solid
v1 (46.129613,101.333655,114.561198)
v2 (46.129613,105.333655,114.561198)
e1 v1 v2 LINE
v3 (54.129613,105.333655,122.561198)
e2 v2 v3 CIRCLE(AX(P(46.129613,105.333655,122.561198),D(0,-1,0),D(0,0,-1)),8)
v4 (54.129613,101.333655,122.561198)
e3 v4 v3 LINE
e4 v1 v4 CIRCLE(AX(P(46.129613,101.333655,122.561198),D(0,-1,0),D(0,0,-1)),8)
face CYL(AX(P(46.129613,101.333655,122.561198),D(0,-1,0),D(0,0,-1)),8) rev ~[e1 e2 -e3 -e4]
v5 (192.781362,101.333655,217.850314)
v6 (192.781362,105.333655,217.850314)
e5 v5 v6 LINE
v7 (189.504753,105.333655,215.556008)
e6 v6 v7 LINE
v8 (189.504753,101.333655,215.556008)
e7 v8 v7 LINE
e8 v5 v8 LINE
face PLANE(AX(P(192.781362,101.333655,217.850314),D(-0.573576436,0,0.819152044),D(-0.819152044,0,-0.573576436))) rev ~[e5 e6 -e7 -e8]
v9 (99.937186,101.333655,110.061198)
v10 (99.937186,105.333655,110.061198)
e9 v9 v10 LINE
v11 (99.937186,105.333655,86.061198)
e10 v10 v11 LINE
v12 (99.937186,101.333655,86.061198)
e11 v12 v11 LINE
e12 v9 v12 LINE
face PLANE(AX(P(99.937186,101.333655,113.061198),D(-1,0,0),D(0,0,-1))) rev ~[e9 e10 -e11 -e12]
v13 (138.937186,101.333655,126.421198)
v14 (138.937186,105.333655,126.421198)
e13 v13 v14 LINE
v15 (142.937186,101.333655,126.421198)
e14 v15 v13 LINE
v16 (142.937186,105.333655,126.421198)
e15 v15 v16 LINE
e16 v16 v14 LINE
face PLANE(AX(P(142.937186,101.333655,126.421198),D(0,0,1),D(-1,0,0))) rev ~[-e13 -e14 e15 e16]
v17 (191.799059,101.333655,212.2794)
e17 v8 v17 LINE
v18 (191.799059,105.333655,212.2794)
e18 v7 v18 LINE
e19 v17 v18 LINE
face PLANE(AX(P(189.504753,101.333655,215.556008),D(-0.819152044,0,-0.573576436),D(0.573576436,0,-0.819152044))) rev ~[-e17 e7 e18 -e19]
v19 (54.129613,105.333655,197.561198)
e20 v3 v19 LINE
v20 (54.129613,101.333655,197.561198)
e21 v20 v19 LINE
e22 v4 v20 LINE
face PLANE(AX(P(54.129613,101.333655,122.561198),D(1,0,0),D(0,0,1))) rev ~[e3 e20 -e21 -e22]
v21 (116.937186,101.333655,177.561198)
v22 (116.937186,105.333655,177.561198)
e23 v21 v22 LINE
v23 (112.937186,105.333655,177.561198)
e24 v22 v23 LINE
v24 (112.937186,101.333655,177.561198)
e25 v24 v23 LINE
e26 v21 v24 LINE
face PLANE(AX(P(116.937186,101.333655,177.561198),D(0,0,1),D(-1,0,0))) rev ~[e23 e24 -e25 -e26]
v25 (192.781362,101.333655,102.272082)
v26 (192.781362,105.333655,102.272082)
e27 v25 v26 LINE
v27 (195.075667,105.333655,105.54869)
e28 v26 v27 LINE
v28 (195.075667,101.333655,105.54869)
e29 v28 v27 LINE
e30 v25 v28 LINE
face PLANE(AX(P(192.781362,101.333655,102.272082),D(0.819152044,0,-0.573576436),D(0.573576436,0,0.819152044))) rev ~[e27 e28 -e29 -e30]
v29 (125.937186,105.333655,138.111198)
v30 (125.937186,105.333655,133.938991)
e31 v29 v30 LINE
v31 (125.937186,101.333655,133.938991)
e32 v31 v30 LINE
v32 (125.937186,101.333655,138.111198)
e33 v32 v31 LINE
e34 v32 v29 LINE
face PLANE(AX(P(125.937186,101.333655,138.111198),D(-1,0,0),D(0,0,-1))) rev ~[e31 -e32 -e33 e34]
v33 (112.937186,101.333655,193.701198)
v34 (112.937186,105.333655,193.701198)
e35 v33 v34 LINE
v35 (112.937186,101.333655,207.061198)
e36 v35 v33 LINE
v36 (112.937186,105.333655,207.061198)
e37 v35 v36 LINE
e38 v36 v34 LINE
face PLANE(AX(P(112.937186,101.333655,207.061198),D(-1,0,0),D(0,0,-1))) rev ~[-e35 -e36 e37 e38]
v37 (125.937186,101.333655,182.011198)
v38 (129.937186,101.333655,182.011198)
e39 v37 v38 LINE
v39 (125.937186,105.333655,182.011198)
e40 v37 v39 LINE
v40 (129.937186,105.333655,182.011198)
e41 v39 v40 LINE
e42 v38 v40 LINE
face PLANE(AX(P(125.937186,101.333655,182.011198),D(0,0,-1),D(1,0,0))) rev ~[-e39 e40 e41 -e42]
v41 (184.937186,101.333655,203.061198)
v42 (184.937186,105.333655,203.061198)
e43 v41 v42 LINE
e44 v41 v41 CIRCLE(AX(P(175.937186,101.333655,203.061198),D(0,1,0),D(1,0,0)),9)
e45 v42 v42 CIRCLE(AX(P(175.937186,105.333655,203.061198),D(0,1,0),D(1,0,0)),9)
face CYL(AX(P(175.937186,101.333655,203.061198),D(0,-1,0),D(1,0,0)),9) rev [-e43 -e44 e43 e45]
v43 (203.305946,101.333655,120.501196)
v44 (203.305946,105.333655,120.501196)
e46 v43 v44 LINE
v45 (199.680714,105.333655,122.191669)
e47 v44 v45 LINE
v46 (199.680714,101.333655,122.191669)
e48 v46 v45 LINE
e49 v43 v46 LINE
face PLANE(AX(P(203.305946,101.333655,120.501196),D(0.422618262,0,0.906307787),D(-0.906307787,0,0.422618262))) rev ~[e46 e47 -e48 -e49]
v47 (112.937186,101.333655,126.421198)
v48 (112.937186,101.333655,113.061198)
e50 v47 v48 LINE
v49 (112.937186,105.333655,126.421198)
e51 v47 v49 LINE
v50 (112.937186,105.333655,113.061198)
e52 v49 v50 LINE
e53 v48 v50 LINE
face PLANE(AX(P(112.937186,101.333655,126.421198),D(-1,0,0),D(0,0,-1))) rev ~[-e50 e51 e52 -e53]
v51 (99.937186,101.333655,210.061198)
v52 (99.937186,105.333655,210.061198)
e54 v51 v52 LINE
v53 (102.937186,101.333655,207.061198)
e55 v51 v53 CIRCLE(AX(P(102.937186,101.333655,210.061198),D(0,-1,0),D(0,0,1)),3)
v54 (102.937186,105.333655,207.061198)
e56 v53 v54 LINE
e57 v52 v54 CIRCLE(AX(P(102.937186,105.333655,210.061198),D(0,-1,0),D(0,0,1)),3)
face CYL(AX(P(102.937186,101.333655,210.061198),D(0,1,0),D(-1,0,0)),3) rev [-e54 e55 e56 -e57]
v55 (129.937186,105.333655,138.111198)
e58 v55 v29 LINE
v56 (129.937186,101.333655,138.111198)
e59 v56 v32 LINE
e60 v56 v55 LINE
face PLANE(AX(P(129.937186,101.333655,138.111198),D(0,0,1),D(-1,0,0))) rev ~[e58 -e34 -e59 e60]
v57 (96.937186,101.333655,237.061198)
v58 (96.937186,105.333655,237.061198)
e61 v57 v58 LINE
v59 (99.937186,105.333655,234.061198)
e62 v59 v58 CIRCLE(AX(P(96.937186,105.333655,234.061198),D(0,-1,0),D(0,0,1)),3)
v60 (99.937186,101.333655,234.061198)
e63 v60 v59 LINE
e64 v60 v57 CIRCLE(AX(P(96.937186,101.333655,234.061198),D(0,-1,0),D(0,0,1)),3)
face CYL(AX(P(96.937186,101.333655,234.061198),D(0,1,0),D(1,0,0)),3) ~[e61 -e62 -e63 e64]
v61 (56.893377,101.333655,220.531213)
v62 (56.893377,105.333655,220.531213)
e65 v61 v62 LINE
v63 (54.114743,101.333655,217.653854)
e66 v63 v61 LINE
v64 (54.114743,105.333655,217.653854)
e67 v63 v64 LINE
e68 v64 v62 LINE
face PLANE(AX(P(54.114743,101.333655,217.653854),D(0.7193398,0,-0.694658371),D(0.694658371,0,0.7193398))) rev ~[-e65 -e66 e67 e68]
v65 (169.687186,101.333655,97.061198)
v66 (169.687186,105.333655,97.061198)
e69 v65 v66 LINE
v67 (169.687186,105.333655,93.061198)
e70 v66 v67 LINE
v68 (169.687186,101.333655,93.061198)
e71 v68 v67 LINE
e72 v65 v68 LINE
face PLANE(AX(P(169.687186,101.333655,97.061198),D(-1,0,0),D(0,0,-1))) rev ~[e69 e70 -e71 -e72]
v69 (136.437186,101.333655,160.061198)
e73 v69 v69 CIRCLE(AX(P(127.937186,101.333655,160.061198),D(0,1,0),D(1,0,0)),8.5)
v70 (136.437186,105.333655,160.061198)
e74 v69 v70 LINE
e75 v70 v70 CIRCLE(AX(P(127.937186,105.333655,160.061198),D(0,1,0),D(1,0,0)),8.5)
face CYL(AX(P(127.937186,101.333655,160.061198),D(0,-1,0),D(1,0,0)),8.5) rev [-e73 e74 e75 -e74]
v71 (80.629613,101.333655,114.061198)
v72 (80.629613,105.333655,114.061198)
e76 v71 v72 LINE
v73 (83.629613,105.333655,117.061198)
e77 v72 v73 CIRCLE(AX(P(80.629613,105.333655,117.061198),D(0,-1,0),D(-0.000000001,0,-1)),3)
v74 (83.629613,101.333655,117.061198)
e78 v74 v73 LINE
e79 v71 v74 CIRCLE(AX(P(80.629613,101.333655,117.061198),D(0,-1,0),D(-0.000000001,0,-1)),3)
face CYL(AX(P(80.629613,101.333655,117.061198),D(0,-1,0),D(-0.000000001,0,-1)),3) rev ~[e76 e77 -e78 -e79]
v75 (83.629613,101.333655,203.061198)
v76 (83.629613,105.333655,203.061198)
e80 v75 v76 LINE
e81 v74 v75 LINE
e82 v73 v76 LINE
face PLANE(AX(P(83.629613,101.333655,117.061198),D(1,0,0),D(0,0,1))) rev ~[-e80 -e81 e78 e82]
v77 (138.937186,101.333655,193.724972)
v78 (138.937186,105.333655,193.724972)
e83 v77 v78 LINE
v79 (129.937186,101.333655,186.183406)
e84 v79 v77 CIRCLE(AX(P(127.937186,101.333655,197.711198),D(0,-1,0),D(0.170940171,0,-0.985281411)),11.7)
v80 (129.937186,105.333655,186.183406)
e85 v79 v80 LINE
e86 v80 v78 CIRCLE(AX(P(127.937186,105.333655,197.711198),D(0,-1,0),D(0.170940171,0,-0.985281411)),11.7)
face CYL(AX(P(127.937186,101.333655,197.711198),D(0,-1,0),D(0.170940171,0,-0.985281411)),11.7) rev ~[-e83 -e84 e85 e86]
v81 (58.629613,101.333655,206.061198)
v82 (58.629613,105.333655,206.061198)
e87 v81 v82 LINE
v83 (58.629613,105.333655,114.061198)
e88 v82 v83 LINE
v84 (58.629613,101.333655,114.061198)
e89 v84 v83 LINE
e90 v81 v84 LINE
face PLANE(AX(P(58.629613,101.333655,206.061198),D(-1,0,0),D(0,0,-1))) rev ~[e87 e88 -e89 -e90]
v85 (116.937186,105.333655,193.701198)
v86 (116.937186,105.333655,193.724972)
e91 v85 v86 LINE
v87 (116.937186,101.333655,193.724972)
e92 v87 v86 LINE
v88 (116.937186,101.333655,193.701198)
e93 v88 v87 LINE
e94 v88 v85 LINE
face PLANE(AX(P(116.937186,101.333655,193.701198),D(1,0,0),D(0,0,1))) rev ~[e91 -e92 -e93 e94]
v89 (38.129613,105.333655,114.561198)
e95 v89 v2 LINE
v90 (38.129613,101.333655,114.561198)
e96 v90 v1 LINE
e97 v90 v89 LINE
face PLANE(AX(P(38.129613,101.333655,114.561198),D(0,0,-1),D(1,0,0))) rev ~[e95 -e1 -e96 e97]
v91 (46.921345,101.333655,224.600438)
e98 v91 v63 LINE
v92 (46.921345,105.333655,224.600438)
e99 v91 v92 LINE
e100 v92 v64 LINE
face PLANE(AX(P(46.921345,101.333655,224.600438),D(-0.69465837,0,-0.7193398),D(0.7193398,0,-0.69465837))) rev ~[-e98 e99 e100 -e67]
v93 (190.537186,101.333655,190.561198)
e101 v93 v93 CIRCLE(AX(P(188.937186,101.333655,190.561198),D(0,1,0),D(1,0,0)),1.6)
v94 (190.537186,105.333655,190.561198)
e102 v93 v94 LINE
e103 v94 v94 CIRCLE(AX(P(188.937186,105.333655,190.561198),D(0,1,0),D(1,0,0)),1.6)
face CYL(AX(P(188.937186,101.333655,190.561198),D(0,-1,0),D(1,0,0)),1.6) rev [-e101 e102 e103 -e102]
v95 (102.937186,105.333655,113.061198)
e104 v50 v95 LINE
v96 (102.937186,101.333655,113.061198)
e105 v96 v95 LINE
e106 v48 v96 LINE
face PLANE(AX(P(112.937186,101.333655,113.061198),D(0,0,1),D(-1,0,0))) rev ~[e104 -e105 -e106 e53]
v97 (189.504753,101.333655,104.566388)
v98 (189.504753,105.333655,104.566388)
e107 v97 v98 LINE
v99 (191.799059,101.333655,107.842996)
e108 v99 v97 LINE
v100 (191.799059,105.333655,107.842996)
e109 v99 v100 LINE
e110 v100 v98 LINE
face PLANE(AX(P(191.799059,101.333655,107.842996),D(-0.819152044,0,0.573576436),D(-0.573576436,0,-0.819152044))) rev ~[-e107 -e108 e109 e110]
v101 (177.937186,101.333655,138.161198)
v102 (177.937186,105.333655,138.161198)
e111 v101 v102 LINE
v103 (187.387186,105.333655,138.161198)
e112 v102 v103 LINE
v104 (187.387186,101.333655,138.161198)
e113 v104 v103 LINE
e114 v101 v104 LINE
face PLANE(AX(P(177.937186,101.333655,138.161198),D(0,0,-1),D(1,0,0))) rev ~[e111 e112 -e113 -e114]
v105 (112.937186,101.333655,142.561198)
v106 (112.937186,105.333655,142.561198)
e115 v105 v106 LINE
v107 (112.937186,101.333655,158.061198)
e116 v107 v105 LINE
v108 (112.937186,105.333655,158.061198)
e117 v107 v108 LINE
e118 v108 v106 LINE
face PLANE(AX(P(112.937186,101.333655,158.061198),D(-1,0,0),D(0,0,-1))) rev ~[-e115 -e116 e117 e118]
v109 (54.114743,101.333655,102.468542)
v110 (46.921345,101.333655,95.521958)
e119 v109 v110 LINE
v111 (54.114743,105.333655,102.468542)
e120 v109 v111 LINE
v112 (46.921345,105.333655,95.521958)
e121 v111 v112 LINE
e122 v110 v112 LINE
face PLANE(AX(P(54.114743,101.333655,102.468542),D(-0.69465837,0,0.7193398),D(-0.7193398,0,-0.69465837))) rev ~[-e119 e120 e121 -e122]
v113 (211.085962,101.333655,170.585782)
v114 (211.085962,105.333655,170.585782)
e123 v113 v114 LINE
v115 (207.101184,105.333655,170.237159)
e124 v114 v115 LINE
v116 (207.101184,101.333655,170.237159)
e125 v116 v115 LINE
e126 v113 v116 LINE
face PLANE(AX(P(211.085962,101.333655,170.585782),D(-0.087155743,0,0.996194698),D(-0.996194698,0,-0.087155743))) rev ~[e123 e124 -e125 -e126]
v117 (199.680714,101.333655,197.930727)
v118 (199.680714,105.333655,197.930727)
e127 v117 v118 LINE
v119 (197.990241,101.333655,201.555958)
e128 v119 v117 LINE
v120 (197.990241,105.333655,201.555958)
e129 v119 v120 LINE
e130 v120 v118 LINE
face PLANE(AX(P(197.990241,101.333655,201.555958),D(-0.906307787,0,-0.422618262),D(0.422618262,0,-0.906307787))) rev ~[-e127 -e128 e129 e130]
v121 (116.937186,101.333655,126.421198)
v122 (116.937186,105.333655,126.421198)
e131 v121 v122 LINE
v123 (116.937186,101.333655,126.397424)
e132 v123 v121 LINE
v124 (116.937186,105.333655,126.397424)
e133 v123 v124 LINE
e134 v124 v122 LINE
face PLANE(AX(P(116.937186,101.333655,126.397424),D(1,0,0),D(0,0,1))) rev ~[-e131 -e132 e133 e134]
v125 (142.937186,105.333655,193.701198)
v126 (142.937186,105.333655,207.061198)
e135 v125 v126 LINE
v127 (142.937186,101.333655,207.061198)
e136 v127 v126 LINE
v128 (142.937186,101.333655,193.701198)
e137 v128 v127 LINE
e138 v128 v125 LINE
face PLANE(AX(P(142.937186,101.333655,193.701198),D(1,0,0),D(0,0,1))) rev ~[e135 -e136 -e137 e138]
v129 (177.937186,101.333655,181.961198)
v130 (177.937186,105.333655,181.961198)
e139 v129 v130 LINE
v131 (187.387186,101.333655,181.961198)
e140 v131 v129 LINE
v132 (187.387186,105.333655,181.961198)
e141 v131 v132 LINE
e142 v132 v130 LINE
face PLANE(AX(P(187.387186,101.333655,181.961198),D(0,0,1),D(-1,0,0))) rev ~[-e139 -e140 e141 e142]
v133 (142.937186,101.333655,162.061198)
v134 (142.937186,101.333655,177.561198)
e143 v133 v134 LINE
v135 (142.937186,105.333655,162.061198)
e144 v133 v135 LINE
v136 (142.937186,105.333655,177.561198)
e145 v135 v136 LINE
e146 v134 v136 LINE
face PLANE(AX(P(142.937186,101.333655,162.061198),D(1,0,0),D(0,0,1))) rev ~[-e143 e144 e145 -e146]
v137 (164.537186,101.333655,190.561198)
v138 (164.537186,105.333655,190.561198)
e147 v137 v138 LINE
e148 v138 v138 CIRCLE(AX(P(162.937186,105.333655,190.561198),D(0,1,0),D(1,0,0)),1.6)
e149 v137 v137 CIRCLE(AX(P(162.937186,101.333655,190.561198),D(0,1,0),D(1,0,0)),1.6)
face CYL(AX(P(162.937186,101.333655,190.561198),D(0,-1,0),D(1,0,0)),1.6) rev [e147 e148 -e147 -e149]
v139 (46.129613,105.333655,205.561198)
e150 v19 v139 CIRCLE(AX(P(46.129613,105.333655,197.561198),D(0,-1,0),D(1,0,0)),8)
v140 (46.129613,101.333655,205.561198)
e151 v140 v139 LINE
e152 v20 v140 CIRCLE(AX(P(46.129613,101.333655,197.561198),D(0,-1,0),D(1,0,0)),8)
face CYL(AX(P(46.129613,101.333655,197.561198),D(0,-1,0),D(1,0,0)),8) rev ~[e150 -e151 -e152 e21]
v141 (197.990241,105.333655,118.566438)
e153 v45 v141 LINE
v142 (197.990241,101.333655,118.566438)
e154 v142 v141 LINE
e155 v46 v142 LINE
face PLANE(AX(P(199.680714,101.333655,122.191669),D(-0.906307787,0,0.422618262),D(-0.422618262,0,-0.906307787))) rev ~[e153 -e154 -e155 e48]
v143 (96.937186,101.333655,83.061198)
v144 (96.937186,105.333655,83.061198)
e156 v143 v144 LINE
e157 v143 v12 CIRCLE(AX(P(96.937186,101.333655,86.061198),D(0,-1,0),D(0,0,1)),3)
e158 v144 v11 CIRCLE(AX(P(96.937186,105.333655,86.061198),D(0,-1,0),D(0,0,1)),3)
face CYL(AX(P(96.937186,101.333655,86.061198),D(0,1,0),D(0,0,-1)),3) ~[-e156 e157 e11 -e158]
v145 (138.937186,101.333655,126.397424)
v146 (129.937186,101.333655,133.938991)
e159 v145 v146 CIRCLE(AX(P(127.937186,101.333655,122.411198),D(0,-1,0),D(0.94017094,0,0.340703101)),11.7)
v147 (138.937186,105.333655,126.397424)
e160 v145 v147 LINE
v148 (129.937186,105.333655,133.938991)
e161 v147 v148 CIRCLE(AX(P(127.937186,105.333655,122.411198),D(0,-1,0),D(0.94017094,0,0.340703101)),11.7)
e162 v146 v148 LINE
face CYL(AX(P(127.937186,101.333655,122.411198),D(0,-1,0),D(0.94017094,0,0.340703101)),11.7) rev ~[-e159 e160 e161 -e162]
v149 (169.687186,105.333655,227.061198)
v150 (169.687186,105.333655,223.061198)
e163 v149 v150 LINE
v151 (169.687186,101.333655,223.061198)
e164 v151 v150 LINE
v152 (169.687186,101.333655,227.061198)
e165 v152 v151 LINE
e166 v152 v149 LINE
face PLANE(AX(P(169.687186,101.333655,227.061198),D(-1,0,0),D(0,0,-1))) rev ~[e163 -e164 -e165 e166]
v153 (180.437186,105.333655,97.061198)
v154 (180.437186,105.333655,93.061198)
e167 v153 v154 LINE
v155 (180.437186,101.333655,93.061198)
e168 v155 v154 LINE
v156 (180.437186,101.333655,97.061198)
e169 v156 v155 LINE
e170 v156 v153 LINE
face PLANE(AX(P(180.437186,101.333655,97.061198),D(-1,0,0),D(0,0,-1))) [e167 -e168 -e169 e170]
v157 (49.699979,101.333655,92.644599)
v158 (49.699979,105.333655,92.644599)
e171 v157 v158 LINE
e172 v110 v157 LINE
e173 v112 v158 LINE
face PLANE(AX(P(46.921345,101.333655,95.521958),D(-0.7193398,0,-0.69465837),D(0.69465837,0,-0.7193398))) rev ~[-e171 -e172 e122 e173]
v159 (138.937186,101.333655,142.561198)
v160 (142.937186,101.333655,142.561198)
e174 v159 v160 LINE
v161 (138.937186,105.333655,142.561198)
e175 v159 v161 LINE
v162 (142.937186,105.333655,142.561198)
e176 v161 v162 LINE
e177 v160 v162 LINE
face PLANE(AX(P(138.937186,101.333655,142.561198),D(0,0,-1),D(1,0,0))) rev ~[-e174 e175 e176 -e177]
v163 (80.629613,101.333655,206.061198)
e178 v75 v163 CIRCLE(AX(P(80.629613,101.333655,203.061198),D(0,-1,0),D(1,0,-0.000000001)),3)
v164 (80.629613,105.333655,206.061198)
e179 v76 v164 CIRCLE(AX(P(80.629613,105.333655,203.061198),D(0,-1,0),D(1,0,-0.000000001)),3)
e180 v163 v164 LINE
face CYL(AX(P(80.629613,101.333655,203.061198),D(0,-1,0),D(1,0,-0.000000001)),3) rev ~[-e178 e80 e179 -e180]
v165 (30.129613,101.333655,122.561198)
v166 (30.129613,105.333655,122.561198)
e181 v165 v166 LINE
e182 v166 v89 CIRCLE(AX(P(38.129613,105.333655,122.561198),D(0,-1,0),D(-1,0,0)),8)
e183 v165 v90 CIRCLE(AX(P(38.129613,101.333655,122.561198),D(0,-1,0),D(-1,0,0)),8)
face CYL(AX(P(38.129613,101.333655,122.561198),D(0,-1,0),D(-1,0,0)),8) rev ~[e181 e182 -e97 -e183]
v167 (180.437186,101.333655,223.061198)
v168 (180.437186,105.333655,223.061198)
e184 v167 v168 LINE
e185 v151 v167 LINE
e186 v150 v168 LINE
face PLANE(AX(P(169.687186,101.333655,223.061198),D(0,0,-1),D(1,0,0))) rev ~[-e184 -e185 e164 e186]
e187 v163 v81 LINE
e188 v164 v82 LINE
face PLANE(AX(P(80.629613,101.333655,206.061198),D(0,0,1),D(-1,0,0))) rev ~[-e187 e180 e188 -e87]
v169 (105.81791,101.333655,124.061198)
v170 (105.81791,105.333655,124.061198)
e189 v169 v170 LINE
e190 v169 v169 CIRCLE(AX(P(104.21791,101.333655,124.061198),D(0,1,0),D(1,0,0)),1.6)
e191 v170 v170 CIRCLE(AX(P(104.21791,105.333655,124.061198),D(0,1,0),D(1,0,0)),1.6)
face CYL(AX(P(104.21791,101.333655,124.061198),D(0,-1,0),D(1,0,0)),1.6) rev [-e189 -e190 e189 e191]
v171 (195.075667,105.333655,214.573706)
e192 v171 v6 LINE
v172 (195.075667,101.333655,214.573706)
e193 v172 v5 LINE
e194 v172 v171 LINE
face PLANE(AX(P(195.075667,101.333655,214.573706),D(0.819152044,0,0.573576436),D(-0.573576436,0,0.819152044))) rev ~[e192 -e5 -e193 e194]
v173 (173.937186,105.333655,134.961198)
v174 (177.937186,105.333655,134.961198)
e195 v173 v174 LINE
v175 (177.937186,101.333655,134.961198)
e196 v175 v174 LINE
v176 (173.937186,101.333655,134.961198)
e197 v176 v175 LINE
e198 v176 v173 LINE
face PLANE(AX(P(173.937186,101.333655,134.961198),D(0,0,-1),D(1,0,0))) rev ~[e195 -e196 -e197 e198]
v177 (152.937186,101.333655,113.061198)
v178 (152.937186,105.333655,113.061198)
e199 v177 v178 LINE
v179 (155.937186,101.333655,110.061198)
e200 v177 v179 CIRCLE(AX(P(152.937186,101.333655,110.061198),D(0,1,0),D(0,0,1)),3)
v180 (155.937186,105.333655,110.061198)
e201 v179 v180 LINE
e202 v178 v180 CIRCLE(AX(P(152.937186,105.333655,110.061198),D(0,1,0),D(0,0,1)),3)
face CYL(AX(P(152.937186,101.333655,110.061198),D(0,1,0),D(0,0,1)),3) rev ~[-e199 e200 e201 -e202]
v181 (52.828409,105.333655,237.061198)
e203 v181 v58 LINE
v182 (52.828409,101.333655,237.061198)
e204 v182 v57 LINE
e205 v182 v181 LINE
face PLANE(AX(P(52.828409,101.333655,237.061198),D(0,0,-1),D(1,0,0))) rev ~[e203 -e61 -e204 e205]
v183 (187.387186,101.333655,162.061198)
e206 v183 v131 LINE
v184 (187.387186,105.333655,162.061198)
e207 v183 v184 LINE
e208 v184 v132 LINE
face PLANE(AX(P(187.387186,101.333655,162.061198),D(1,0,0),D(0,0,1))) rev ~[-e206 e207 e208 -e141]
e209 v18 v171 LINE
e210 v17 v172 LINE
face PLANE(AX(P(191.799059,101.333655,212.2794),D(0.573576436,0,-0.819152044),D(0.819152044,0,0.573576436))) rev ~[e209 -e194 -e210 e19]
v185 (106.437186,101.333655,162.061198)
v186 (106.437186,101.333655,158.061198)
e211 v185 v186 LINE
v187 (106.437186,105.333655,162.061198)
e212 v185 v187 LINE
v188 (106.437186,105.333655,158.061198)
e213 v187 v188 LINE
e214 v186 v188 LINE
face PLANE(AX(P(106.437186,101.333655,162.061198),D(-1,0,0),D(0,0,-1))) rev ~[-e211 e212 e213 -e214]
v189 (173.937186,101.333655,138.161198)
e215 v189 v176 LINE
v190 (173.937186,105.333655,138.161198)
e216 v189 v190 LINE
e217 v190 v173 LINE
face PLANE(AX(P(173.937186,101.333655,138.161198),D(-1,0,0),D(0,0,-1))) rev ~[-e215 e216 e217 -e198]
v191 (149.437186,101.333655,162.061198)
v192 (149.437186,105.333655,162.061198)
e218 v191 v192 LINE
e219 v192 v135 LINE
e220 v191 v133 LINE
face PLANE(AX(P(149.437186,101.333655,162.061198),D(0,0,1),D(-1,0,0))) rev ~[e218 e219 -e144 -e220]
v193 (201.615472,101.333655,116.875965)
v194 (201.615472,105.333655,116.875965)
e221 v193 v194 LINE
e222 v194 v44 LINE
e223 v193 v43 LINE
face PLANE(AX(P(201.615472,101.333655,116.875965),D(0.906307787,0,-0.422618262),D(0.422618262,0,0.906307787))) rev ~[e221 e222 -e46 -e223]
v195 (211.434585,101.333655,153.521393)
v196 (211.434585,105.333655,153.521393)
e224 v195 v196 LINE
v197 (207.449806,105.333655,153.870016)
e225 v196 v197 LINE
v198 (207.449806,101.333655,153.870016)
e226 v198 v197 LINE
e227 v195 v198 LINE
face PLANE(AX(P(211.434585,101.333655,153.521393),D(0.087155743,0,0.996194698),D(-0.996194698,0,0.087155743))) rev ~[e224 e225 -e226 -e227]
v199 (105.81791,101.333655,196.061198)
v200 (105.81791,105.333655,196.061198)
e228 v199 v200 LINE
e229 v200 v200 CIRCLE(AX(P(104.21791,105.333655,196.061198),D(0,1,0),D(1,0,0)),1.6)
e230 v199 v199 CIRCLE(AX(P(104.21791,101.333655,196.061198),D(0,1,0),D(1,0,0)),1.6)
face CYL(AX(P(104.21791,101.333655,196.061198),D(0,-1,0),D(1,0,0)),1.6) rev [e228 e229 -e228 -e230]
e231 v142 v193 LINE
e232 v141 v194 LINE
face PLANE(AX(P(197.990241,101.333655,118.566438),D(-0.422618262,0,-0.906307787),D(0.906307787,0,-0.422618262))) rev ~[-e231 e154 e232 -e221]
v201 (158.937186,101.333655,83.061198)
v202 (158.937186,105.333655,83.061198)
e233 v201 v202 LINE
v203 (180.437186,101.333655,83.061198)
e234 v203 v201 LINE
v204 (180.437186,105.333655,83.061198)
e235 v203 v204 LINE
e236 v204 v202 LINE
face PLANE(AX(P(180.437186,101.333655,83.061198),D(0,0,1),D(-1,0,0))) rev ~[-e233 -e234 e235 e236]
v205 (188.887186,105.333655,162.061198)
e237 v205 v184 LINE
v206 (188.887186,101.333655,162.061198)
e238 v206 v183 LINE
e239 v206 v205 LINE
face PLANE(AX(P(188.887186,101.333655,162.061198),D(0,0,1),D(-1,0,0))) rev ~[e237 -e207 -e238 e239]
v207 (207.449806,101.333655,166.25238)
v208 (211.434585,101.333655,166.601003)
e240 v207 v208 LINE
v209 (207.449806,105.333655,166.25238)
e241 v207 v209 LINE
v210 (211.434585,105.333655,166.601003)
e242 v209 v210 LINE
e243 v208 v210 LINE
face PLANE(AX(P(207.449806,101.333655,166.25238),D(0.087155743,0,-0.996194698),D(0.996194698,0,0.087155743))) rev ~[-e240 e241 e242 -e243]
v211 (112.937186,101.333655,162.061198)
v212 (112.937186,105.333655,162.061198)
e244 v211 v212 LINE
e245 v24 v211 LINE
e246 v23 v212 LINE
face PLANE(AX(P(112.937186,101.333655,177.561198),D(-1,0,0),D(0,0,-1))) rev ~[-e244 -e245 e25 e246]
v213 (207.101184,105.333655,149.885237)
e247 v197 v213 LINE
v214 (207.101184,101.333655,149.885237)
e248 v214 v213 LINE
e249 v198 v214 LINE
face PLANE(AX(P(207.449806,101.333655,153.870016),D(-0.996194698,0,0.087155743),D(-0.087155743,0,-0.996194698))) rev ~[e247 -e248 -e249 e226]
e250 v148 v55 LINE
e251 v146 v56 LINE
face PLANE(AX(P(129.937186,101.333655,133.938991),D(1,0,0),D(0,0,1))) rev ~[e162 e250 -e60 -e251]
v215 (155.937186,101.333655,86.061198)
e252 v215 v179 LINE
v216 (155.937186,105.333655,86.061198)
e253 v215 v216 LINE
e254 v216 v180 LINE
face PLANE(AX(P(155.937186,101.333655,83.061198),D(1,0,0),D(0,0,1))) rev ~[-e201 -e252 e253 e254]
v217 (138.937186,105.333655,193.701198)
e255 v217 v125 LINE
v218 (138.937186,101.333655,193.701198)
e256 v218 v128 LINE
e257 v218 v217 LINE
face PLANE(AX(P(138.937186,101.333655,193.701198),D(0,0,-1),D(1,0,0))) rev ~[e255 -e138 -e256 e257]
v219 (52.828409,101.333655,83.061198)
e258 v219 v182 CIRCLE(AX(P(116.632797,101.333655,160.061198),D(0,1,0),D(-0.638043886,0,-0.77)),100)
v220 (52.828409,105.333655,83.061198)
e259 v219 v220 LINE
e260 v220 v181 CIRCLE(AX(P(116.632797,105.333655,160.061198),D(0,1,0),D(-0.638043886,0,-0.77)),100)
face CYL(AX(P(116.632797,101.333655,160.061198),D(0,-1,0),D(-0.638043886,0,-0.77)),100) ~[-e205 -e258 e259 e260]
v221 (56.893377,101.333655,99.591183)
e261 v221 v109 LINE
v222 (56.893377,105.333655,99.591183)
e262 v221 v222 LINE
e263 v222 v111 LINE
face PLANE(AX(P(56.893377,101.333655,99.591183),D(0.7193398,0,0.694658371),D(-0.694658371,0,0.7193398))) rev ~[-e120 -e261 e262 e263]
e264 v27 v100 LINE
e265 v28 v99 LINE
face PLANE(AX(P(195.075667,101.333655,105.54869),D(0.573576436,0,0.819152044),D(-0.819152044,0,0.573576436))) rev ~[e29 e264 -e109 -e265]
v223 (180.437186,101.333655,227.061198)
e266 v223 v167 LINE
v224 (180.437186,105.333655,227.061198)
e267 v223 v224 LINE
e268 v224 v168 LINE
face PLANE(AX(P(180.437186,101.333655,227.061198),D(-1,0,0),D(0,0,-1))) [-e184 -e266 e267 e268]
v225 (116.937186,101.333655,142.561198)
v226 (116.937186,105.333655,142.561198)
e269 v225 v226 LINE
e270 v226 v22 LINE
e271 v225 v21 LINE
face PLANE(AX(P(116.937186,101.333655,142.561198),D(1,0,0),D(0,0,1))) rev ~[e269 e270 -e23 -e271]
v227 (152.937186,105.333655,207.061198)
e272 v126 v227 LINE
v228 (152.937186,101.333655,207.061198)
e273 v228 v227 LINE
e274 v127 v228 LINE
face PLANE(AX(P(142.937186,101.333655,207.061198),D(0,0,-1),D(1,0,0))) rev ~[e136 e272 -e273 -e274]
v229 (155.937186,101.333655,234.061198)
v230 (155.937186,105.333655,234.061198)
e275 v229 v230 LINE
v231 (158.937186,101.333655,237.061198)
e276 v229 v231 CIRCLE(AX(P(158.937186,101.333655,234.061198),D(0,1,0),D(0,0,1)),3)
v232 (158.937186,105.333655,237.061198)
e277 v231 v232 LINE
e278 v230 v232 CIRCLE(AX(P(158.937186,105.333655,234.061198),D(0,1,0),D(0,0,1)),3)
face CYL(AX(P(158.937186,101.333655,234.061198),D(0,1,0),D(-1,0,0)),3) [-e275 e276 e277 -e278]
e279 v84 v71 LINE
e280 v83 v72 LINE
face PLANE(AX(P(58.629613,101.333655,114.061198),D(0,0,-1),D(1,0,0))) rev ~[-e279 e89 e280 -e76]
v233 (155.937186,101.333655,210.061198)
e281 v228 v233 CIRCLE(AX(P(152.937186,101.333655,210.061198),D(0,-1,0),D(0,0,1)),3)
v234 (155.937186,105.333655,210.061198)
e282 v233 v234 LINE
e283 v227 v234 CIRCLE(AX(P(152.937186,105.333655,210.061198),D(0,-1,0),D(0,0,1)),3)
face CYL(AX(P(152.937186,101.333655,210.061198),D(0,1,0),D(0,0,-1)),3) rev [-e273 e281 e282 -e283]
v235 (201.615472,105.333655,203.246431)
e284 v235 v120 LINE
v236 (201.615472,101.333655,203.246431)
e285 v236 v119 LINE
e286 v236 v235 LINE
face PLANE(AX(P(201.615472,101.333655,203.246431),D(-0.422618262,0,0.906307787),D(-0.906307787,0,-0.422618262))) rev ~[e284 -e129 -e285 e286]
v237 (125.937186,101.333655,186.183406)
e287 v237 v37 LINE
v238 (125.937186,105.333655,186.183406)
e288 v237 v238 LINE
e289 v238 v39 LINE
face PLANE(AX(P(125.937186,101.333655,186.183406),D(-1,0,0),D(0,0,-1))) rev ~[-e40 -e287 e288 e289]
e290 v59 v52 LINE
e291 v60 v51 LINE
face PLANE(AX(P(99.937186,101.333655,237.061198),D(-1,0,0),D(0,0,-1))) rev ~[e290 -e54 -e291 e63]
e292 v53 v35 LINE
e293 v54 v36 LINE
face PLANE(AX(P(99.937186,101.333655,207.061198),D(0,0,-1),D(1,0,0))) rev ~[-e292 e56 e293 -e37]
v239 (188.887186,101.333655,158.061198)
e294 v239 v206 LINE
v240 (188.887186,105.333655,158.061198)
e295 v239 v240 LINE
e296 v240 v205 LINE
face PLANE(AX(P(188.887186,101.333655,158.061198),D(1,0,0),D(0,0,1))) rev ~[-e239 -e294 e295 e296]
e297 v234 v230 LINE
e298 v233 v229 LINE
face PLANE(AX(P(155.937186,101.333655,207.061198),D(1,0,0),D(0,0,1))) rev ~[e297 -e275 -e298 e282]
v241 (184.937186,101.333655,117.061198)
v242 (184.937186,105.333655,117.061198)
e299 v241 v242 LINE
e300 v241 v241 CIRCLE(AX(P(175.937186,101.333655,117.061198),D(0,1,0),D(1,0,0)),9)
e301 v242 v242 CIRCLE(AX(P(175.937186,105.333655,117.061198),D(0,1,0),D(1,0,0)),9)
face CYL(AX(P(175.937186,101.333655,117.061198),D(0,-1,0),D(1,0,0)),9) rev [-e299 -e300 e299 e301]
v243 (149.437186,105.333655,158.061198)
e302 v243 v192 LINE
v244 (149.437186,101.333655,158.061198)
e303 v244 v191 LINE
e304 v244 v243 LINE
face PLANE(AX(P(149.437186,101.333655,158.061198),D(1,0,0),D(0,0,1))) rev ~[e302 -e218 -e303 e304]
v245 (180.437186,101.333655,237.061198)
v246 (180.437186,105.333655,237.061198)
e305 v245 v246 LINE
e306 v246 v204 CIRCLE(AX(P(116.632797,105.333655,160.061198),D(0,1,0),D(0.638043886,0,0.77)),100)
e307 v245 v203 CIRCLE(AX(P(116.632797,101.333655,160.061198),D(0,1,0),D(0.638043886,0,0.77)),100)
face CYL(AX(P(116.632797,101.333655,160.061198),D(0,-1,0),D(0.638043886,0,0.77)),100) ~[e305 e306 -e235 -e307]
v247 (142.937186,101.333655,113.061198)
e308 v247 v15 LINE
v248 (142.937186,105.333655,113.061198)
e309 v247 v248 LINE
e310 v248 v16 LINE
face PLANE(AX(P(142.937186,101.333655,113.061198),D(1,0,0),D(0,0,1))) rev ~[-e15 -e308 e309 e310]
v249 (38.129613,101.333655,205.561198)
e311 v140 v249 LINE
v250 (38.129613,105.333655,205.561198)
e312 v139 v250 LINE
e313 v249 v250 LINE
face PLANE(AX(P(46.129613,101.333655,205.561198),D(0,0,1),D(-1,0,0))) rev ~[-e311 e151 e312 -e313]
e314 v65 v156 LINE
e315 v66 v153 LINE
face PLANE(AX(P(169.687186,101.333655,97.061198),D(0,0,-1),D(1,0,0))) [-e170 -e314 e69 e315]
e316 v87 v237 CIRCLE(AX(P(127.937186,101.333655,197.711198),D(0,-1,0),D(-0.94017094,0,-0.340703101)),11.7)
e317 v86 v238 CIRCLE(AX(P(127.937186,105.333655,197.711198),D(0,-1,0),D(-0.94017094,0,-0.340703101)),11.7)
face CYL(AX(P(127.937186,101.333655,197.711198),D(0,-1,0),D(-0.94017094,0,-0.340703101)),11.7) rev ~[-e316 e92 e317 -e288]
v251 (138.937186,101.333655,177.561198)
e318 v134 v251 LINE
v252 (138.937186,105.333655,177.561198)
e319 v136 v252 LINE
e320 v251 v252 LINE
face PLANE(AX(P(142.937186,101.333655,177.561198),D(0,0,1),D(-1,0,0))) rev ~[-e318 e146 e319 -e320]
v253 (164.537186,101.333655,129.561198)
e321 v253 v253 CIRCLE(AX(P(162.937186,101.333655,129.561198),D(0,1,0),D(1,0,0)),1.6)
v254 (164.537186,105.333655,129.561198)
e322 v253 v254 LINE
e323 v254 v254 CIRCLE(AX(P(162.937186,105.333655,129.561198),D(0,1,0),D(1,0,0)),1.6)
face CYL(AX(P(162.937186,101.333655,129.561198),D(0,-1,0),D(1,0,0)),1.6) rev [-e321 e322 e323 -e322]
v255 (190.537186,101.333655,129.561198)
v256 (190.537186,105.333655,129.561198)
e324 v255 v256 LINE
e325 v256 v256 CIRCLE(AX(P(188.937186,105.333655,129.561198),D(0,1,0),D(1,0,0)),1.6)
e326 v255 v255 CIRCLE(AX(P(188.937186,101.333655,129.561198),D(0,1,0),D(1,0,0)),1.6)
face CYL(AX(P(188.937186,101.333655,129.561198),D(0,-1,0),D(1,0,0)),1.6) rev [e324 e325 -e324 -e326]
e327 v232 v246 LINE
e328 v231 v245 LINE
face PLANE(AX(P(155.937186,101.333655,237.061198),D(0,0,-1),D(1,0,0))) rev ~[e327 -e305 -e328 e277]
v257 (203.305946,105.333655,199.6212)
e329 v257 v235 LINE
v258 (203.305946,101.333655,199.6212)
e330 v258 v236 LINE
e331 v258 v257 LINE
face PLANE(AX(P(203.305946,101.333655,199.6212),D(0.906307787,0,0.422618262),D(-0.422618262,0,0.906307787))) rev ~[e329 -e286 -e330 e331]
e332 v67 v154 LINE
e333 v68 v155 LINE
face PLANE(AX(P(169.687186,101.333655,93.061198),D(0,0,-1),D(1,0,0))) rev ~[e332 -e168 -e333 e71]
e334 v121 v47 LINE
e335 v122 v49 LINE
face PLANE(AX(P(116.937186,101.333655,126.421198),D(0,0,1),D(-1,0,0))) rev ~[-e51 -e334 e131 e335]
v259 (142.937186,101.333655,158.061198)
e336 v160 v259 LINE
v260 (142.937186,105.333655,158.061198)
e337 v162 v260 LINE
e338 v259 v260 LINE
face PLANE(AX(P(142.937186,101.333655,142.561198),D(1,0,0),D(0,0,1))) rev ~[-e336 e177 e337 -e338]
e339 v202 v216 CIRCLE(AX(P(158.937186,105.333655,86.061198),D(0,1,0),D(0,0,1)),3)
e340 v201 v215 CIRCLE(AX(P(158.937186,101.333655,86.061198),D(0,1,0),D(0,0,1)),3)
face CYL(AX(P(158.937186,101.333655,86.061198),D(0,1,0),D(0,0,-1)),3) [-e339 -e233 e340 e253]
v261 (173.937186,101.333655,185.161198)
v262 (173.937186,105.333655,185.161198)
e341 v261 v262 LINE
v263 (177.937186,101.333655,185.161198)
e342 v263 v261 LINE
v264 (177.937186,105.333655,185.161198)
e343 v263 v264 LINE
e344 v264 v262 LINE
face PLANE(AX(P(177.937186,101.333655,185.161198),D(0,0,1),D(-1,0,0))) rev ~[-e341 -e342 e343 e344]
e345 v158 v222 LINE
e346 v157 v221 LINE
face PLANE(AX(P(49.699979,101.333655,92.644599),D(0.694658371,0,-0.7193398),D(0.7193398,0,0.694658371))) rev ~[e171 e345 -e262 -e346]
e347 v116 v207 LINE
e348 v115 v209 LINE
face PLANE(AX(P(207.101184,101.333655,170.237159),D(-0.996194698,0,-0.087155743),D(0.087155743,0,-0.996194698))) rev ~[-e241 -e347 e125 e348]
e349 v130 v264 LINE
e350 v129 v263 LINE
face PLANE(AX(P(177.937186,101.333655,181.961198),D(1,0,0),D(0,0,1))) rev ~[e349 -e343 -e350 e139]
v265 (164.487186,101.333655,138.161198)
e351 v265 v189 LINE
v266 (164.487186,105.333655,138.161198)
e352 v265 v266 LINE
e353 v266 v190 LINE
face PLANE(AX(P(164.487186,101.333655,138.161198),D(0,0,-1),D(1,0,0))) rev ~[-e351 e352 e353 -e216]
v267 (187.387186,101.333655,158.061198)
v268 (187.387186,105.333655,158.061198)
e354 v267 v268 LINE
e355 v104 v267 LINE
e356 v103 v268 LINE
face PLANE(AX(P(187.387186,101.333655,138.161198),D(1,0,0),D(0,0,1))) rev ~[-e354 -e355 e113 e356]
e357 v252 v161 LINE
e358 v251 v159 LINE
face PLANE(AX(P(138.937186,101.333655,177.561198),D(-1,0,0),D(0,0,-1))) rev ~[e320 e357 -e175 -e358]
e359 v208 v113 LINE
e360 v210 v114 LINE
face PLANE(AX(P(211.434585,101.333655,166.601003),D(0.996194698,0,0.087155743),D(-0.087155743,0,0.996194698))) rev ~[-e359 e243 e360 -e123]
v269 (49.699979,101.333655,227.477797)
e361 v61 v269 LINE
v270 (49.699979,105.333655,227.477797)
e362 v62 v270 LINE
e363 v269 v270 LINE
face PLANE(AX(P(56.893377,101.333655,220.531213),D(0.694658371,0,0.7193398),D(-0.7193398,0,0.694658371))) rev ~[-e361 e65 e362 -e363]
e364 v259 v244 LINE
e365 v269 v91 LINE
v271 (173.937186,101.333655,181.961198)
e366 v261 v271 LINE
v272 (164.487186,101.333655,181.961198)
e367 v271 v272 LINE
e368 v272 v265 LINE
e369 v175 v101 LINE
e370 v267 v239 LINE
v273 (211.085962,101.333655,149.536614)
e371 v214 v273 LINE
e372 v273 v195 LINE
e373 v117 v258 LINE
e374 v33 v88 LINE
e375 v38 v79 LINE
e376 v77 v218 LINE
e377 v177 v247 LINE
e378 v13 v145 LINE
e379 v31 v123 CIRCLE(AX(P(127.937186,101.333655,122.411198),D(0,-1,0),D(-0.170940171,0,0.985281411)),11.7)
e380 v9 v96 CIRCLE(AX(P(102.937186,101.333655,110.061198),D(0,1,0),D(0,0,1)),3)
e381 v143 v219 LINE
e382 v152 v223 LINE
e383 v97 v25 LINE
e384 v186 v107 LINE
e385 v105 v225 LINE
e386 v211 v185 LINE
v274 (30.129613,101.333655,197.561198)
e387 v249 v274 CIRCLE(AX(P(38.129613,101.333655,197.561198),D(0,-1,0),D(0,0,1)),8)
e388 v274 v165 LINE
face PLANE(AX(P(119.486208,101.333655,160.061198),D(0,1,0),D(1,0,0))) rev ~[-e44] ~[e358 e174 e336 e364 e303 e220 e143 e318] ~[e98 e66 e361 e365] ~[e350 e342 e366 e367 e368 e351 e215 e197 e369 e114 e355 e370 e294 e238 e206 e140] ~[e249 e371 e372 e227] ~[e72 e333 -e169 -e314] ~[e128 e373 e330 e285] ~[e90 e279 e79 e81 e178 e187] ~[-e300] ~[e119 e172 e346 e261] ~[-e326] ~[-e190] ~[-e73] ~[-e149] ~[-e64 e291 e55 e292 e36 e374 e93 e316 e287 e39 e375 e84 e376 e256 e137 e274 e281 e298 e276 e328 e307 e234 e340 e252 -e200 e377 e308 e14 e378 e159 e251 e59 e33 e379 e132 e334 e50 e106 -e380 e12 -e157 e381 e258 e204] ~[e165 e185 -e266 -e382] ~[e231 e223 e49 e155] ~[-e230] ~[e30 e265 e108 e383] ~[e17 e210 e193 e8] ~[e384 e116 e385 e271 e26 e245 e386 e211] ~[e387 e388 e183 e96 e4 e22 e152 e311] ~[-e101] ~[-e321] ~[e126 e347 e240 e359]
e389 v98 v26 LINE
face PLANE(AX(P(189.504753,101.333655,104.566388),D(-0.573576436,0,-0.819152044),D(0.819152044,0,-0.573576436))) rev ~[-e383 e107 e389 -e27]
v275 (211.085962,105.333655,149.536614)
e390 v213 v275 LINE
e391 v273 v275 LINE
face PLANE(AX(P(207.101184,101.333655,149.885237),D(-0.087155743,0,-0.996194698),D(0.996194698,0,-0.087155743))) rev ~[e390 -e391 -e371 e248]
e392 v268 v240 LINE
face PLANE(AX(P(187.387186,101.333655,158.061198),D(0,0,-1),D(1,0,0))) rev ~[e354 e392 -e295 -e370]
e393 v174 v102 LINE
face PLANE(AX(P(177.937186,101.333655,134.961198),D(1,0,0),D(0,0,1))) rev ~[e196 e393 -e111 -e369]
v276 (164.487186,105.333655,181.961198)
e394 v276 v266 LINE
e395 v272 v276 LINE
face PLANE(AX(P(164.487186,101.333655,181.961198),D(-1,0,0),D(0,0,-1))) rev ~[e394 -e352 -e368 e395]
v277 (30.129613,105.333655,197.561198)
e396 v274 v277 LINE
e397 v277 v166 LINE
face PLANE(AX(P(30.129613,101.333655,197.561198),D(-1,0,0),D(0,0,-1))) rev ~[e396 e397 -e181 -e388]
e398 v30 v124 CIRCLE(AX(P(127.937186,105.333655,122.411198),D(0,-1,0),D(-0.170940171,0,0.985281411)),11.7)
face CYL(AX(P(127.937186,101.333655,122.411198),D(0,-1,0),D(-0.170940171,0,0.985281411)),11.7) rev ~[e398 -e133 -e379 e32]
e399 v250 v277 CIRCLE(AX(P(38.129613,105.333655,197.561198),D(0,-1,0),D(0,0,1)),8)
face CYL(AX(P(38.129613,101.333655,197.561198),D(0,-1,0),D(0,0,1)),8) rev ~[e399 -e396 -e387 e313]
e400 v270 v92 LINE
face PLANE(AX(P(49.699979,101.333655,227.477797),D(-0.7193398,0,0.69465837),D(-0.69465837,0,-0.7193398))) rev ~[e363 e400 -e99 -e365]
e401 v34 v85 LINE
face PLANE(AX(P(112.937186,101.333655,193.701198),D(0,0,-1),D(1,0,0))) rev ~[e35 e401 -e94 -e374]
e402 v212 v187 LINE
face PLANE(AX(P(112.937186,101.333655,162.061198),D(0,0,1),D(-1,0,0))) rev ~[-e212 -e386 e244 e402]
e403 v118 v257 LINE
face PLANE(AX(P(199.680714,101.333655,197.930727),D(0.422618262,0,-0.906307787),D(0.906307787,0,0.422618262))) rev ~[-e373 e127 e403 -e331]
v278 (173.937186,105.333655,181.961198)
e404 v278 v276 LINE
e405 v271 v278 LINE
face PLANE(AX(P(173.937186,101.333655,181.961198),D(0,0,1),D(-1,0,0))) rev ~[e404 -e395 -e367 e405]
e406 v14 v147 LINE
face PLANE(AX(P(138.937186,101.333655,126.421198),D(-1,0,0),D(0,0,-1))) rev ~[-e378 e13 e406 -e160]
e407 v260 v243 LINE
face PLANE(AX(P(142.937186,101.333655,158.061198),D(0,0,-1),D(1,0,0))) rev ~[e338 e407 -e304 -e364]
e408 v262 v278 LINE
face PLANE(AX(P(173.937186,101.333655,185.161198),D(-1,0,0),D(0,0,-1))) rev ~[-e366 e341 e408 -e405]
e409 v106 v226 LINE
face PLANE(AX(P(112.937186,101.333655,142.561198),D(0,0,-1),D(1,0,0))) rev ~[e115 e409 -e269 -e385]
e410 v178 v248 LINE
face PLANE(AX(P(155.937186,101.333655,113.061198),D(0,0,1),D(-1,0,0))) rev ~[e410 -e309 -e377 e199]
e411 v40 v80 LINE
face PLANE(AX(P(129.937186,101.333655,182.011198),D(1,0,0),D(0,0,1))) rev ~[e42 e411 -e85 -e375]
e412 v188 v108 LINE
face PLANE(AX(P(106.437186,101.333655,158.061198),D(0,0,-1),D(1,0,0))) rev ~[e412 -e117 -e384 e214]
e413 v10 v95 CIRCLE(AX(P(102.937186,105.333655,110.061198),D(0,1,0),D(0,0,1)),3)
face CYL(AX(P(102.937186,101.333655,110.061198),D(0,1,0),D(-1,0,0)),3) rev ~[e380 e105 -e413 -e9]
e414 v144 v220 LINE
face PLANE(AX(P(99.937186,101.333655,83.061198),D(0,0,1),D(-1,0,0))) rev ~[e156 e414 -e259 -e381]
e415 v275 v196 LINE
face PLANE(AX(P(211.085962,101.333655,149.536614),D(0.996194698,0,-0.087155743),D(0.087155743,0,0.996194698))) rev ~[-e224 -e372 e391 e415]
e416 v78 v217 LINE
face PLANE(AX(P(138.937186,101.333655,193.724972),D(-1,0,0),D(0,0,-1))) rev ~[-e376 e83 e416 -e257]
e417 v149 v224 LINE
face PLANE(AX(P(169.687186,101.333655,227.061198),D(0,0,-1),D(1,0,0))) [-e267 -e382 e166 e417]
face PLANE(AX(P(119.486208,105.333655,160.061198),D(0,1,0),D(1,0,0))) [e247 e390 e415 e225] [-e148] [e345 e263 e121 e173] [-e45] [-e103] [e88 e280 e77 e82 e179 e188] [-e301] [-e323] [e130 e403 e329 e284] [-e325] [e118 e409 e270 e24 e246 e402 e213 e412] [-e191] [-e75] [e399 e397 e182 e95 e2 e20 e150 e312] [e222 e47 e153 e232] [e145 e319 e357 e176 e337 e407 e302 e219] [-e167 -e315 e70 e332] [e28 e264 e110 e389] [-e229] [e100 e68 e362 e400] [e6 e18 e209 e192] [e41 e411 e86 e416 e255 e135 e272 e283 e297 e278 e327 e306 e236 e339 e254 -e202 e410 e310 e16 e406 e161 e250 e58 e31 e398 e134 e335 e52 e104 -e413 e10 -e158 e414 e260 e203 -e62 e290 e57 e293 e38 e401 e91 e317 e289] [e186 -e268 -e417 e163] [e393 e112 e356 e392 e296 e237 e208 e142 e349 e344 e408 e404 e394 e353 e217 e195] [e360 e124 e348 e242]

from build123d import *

# Parameters (mm, degrees)
SKETCH1_W           = 10.75
SKETCH1_H           = 4
SKETCH1_R           = 1.6
SKETCH1_R_2         = 9
SKETCH1_R_3         = 8.5
BOSS_EXTRUDE1_DEPTH = 4
FILLET2_R           = 3


with BuildPart() as part:
    # Sketch1 → Boss-Extrude1 (new body)
    with BuildSketch(Plane(origin=(0, 101.33365526, 0), x_dir=(1, 0, 0), z_dir=(0, 1, 0))):
        with BuildLine():
            Line((99.937186027, -237.061198021), (99.937186027, -207.061198021))
            Line((99.937186027, -207.061198021), (112.937186027, -207.061198021))
            Line((112.937186027, -207.061198021), (112.937186027, -193.701198021))
            Line((112.937186027, -193.701198021), (116.937186027, -193.701198021))
            Line((116.937186027, -193.701198021), (116.937186027, -193.724971735))
            ThreePointArc((116.937186027, -193.724971735), (120.422613168, -188.743411519), (125.937186027, -186.183405518))
            Line((125.937186027, -186.183405518), (125.937186027, -182.011198021))
            Line((125.937186027, -182.011198021), (129.937186027, -182.011198021))
            Line((129.937186027, -182.011198021), (129.937186027, -186.183405518))
            ThreePointArc((129.937186027, -186.183405518), (135.451758886, -188.743411519), (138.937186027, -193.724971735))
            Line((138.937186027, -193.724971735), (138.937186027, -193.701198021))
            Line((138.937186027, -193.701198021), (142.937186027, -193.701198021))
            Line((142.937186027, -193.701198021), (142.937186027, -207.061198021))
            Line((142.937186027, -207.061198021), (155.937186027, -207.061198021))
            Line((155.937186027, -207.061198021), (155.937186027, -237.061198021))
            Line((155.937186027, -237.061198021), (180.437186027, -237.061198021))
            ThreePointArc((180.437186027, -237.061198021), (216.632797463, -160.061198021), (180.437186027, -83.061198021))
            Line((180.437186027, -83.061198021), (155.937186027, -83.061198021))
            Line((155.937186027, -83.061198021), (155.937186027, -113.061198021))
            Line((155.937186027, -113.061198021), (142.937186027, -113.061198021))
            Line((142.937186027, -113.061198021), (142.937186027, -126.421198021))
            Line((142.937186027, -126.421198021), (138.937186027, -126.421198021))
            Line((138.937186027, -126.421198021), (138.937186027, -126.397424307))
            ThreePointArc((138.937186027, -126.397424307), (135.451758886, -131.378984523), (129.937186027, -133.938990524))
            Line((129.937186027, -133.938990524), (129.937186027, -138.111198021))
            Line((129.937186027, -138.111198021), (125.937186027, -138.111198021))
            Line((125.937186027, -138.111198021), (125.937186027, -133.938990524))
            ThreePointArc((125.937186027, -133.938990524), (120.422613168, -131.378984523), (116.937186027, -126.397424307))
            Line((116.937186027, -126.397424307), (116.937186027, -126.421198021))
            Line((116.937186027, -126.421198021), (112.937186027, -126.421198021))
            Line((112.937186027, -126.421198021), (112.937186027, -113.061198021))
            Line((112.937186027, -113.061198021), (99.937186027, -113.061198021))
            Line((99.937186027, -113.061198021), (99.937186027, -83.061198021))
            Line((99.937186027, -83.061198021), (52.828408899, -83.061198021))
            ThreePointArc((52.828408899, -83.061198021), (16.632797463, -160.061198021), (52.828408899, -237.061198021))
            Line((52.828408899, -237.061198021), (99.937186027, -237.061198021))
        make_face()
        with Locations((175.062186027, -95.061198021)):
            Rectangle(SKETCH1_W, SKETCH1_H, mode=Mode.SUBTRACT)
        Polygon((56.893376849, -220.531213103), (49.699978846, -227.477796808), (46.921345364, -224.600437606), (54.114743367, -217.653853902), align=None, mode=Mode.SUBTRACT)
        with Locations((104.217909851, -196.061198021)):
            Circle(SKETCH1_R, mode=Mode.SUBTRACT)
        Polygon((116.937186027, -142.561198021), (116.937186027, -177.561198021), (112.937186027, -177.561198021), (112.937186027, -162.061198021), (106.437186027, -162.061198021), (106.437186027, -158.061198021), (112.937186027, -158.061198021), (112.937186027, -142.561198021), align=None, mode=Mode.SUBTRACT)
        with Locations((175.062186027, -225.061198021)):
            Rectangle(SKETCH1_W, SKETCH1_H, mode=Mode.SUBTRACT)
        with Locations((175.937186027, -203.061198021)):
            Circle(SKETCH1_R_2, mode=Mode.SUBTRACT)
        Polygon((192.781361608, -217.850313996), (189.504753431, -215.55600825), (191.799059176, -212.279400073), (195.075667353, -214.573705818), align=None, mode=Mode.SUBTRACT)
        Polygon((201.615472458, -203.246431106), (197.990241309, -201.555958059), (199.680714356, -197.930726911), (203.305945504, -199.621199958), align=None, mode=Mode.SUBTRACT)
        with Locations((162.937186027, -190.561198021)):
            Circle(SKETCH1_R, mode=Mode.SUBTRACT)
        Polygon((138.937186027, -142.561198021), (142.937186027, -142.561198021), (142.937186027, -158.061198021), (149.437186027, -158.061198021), (149.437186027, -162.061198021), (142.937186027, -162.061198021), (142.937186027, -177.561198021), (138.937186027, -177.561198021), align=None, mode=Mode.SUBTRACT)
        with Locations((188.937186027, -190.561198021)):
            Circle(SKETCH1_R, mode=Mode.SUBTRACT)
        Polygon((173.937186027, -138.161198021), (173.937186027, -134.961198021), (177.937186027, -134.961198021), (177.937186027, -138.161198021), (187.387186027, -138.161198021), (187.387186027, -158.061198021), (188.887186027, -158.061198021), (188.887186027, -162.061198021), (187.387186027, -162.061198021), (187.387186027, -181.961198021), (177.937186027, -181.961198021), (177.937186027, -185.161198021), (173.937186027, -185.161198021), (173.937186027, -181.961198021), (164.487186027, -181.961198021), (164.487186027, -138.161198021), align=None, mode=Mode.SUBTRACT)
        Polygon((211.08596232, -170.585781918), (207.101183528, -170.237158947), (207.449806499, -166.252380154), (211.434585291, -166.601003125), align=None, mode=Mode.SUBTRACT)
        with BuildLine():
            ThreePointArc((30.129612814, -122.561198021), (32.472758565, -116.904343772), (38.129612814, -114.561198021))
            Line((38.129612814, -114.561198021), (46.129612814, -114.561198021))
            ThreePointArc((46.129612814, -114.561198021), (51.786467064, -116.904343772), (54.129612814, -122.561198021))
            Line((54.129612814, -122.561198021), (54.129612814, -197.561198021))
            ThreePointArc((54.129612814, -197.561198021), (51.786467064, -203.21805227), (46.129612814, -205.561198021))
            Line((46.129612814, -205.561198021), (38.129612814, -205.561198021))
            ThreePointArc((38.129612814, -205.561198021), (32.472758565, -203.21805227), (30.129612814, -197.561198021))
            Line((30.129612814, -197.561198021), (30.129612814, -122.561198021))
        make_face(mode=Mode.SUBTRACT)
        with BuildLine():
            Line((58.629612814, -206.061198021), (58.629612814, -114.061198021))
            Line((58.629612814, -114.061198021), (80.629612814, -114.061198021))
            ThreePointArc((80.629612814, -114.061198021), (82.750933158, -114.939877677), (83.629612814, -117.061198021))
            Line((83.629612814, -117.061198021), (83.629612814, -203.061198021))
            ThreePointArc((83.629612814, -203.061198021), (82.750933158, -205.182518365), (80.629612814, -206.061198021))
            Line((80.629612814, -206.061198021), (58.629612814, -206.061198021))
        make_face(mode=Mode.SUBTRACT)
        with Locations((104.217909851, -124.061198021)):
            Circle(SKETCH1_R, mode=Mode.SUBTRACT)
        Polygon((54.114743367, -102.46854214), (46.921345364, -95.521958436), (49.699978846, -92.644599234), (56.893376849, -99.591182939), align=None, mode=Mode.SUBTRACT)
        with Locations((127.937186027, -160.061198021)):
            Circle(SKETCH1_R_3, mode=Mode.SUBTRACT)
        with Locations((162.937186027, -129.561198021)):
            Circle(SKETCH1_R, mode=Mode.SUBTRACT)
        Polygon((211.434585291, -153.521392917), (207.449806499, -153.870015888), (207.101183528, -149.885237095), (211.08596232, -149.536614124), align=None, mode=Mode.SUBTRACT)
        with Locations((188.937186027, -129.561198021)):
            Circle(SKETCH1_R, mode=Mode.SUBTRACT)
        with Locations((175.937186027, -117.061198021)):
            Circle(SKETCH1_R_2, mode=Mode.SUBTRACT)
        Polygon((203.305945504, -120.501196084), (199.680714356, -122.191669131), (197.990241309, -118.566437983), (201.615472457, -116.875964936), align=None, mode=Mode.SUBTRACT)
        Polygon((195.075667353, -105.548690224), (191.799059176, -107.842995969), (189.504753431, -104.566387792), (192.781361608, -102.272082046), align=None, mode=Mode.SUBTRACT)
    extrude(amount=BOSS_EXTRUDE1_DEPTH)

    # Fillet2
    fillet2_edges = [part.edges().sort_by_distance(p)[0] for p in [
        (99.937186027, 103.33365526, 83.061198021),
        (99.937186027, 103.33365526, 113.061198021),
        (155.937186027, 103.33365526, 113.061198021),
        (155.937186027, 103.33365526, 83.061198021),
        (155.937186027, 103.33365526, 237.061198021),
        (155.937186027, 103.33365526, 207.061198021),
        (99.937186027, 103.33365526, 207.061198021),
        (99.937186027, 103.33365526, 237.061198021),
    ]]
    fillet(fillet2_edges, radius=FILLET2_R)


solid = part.part
